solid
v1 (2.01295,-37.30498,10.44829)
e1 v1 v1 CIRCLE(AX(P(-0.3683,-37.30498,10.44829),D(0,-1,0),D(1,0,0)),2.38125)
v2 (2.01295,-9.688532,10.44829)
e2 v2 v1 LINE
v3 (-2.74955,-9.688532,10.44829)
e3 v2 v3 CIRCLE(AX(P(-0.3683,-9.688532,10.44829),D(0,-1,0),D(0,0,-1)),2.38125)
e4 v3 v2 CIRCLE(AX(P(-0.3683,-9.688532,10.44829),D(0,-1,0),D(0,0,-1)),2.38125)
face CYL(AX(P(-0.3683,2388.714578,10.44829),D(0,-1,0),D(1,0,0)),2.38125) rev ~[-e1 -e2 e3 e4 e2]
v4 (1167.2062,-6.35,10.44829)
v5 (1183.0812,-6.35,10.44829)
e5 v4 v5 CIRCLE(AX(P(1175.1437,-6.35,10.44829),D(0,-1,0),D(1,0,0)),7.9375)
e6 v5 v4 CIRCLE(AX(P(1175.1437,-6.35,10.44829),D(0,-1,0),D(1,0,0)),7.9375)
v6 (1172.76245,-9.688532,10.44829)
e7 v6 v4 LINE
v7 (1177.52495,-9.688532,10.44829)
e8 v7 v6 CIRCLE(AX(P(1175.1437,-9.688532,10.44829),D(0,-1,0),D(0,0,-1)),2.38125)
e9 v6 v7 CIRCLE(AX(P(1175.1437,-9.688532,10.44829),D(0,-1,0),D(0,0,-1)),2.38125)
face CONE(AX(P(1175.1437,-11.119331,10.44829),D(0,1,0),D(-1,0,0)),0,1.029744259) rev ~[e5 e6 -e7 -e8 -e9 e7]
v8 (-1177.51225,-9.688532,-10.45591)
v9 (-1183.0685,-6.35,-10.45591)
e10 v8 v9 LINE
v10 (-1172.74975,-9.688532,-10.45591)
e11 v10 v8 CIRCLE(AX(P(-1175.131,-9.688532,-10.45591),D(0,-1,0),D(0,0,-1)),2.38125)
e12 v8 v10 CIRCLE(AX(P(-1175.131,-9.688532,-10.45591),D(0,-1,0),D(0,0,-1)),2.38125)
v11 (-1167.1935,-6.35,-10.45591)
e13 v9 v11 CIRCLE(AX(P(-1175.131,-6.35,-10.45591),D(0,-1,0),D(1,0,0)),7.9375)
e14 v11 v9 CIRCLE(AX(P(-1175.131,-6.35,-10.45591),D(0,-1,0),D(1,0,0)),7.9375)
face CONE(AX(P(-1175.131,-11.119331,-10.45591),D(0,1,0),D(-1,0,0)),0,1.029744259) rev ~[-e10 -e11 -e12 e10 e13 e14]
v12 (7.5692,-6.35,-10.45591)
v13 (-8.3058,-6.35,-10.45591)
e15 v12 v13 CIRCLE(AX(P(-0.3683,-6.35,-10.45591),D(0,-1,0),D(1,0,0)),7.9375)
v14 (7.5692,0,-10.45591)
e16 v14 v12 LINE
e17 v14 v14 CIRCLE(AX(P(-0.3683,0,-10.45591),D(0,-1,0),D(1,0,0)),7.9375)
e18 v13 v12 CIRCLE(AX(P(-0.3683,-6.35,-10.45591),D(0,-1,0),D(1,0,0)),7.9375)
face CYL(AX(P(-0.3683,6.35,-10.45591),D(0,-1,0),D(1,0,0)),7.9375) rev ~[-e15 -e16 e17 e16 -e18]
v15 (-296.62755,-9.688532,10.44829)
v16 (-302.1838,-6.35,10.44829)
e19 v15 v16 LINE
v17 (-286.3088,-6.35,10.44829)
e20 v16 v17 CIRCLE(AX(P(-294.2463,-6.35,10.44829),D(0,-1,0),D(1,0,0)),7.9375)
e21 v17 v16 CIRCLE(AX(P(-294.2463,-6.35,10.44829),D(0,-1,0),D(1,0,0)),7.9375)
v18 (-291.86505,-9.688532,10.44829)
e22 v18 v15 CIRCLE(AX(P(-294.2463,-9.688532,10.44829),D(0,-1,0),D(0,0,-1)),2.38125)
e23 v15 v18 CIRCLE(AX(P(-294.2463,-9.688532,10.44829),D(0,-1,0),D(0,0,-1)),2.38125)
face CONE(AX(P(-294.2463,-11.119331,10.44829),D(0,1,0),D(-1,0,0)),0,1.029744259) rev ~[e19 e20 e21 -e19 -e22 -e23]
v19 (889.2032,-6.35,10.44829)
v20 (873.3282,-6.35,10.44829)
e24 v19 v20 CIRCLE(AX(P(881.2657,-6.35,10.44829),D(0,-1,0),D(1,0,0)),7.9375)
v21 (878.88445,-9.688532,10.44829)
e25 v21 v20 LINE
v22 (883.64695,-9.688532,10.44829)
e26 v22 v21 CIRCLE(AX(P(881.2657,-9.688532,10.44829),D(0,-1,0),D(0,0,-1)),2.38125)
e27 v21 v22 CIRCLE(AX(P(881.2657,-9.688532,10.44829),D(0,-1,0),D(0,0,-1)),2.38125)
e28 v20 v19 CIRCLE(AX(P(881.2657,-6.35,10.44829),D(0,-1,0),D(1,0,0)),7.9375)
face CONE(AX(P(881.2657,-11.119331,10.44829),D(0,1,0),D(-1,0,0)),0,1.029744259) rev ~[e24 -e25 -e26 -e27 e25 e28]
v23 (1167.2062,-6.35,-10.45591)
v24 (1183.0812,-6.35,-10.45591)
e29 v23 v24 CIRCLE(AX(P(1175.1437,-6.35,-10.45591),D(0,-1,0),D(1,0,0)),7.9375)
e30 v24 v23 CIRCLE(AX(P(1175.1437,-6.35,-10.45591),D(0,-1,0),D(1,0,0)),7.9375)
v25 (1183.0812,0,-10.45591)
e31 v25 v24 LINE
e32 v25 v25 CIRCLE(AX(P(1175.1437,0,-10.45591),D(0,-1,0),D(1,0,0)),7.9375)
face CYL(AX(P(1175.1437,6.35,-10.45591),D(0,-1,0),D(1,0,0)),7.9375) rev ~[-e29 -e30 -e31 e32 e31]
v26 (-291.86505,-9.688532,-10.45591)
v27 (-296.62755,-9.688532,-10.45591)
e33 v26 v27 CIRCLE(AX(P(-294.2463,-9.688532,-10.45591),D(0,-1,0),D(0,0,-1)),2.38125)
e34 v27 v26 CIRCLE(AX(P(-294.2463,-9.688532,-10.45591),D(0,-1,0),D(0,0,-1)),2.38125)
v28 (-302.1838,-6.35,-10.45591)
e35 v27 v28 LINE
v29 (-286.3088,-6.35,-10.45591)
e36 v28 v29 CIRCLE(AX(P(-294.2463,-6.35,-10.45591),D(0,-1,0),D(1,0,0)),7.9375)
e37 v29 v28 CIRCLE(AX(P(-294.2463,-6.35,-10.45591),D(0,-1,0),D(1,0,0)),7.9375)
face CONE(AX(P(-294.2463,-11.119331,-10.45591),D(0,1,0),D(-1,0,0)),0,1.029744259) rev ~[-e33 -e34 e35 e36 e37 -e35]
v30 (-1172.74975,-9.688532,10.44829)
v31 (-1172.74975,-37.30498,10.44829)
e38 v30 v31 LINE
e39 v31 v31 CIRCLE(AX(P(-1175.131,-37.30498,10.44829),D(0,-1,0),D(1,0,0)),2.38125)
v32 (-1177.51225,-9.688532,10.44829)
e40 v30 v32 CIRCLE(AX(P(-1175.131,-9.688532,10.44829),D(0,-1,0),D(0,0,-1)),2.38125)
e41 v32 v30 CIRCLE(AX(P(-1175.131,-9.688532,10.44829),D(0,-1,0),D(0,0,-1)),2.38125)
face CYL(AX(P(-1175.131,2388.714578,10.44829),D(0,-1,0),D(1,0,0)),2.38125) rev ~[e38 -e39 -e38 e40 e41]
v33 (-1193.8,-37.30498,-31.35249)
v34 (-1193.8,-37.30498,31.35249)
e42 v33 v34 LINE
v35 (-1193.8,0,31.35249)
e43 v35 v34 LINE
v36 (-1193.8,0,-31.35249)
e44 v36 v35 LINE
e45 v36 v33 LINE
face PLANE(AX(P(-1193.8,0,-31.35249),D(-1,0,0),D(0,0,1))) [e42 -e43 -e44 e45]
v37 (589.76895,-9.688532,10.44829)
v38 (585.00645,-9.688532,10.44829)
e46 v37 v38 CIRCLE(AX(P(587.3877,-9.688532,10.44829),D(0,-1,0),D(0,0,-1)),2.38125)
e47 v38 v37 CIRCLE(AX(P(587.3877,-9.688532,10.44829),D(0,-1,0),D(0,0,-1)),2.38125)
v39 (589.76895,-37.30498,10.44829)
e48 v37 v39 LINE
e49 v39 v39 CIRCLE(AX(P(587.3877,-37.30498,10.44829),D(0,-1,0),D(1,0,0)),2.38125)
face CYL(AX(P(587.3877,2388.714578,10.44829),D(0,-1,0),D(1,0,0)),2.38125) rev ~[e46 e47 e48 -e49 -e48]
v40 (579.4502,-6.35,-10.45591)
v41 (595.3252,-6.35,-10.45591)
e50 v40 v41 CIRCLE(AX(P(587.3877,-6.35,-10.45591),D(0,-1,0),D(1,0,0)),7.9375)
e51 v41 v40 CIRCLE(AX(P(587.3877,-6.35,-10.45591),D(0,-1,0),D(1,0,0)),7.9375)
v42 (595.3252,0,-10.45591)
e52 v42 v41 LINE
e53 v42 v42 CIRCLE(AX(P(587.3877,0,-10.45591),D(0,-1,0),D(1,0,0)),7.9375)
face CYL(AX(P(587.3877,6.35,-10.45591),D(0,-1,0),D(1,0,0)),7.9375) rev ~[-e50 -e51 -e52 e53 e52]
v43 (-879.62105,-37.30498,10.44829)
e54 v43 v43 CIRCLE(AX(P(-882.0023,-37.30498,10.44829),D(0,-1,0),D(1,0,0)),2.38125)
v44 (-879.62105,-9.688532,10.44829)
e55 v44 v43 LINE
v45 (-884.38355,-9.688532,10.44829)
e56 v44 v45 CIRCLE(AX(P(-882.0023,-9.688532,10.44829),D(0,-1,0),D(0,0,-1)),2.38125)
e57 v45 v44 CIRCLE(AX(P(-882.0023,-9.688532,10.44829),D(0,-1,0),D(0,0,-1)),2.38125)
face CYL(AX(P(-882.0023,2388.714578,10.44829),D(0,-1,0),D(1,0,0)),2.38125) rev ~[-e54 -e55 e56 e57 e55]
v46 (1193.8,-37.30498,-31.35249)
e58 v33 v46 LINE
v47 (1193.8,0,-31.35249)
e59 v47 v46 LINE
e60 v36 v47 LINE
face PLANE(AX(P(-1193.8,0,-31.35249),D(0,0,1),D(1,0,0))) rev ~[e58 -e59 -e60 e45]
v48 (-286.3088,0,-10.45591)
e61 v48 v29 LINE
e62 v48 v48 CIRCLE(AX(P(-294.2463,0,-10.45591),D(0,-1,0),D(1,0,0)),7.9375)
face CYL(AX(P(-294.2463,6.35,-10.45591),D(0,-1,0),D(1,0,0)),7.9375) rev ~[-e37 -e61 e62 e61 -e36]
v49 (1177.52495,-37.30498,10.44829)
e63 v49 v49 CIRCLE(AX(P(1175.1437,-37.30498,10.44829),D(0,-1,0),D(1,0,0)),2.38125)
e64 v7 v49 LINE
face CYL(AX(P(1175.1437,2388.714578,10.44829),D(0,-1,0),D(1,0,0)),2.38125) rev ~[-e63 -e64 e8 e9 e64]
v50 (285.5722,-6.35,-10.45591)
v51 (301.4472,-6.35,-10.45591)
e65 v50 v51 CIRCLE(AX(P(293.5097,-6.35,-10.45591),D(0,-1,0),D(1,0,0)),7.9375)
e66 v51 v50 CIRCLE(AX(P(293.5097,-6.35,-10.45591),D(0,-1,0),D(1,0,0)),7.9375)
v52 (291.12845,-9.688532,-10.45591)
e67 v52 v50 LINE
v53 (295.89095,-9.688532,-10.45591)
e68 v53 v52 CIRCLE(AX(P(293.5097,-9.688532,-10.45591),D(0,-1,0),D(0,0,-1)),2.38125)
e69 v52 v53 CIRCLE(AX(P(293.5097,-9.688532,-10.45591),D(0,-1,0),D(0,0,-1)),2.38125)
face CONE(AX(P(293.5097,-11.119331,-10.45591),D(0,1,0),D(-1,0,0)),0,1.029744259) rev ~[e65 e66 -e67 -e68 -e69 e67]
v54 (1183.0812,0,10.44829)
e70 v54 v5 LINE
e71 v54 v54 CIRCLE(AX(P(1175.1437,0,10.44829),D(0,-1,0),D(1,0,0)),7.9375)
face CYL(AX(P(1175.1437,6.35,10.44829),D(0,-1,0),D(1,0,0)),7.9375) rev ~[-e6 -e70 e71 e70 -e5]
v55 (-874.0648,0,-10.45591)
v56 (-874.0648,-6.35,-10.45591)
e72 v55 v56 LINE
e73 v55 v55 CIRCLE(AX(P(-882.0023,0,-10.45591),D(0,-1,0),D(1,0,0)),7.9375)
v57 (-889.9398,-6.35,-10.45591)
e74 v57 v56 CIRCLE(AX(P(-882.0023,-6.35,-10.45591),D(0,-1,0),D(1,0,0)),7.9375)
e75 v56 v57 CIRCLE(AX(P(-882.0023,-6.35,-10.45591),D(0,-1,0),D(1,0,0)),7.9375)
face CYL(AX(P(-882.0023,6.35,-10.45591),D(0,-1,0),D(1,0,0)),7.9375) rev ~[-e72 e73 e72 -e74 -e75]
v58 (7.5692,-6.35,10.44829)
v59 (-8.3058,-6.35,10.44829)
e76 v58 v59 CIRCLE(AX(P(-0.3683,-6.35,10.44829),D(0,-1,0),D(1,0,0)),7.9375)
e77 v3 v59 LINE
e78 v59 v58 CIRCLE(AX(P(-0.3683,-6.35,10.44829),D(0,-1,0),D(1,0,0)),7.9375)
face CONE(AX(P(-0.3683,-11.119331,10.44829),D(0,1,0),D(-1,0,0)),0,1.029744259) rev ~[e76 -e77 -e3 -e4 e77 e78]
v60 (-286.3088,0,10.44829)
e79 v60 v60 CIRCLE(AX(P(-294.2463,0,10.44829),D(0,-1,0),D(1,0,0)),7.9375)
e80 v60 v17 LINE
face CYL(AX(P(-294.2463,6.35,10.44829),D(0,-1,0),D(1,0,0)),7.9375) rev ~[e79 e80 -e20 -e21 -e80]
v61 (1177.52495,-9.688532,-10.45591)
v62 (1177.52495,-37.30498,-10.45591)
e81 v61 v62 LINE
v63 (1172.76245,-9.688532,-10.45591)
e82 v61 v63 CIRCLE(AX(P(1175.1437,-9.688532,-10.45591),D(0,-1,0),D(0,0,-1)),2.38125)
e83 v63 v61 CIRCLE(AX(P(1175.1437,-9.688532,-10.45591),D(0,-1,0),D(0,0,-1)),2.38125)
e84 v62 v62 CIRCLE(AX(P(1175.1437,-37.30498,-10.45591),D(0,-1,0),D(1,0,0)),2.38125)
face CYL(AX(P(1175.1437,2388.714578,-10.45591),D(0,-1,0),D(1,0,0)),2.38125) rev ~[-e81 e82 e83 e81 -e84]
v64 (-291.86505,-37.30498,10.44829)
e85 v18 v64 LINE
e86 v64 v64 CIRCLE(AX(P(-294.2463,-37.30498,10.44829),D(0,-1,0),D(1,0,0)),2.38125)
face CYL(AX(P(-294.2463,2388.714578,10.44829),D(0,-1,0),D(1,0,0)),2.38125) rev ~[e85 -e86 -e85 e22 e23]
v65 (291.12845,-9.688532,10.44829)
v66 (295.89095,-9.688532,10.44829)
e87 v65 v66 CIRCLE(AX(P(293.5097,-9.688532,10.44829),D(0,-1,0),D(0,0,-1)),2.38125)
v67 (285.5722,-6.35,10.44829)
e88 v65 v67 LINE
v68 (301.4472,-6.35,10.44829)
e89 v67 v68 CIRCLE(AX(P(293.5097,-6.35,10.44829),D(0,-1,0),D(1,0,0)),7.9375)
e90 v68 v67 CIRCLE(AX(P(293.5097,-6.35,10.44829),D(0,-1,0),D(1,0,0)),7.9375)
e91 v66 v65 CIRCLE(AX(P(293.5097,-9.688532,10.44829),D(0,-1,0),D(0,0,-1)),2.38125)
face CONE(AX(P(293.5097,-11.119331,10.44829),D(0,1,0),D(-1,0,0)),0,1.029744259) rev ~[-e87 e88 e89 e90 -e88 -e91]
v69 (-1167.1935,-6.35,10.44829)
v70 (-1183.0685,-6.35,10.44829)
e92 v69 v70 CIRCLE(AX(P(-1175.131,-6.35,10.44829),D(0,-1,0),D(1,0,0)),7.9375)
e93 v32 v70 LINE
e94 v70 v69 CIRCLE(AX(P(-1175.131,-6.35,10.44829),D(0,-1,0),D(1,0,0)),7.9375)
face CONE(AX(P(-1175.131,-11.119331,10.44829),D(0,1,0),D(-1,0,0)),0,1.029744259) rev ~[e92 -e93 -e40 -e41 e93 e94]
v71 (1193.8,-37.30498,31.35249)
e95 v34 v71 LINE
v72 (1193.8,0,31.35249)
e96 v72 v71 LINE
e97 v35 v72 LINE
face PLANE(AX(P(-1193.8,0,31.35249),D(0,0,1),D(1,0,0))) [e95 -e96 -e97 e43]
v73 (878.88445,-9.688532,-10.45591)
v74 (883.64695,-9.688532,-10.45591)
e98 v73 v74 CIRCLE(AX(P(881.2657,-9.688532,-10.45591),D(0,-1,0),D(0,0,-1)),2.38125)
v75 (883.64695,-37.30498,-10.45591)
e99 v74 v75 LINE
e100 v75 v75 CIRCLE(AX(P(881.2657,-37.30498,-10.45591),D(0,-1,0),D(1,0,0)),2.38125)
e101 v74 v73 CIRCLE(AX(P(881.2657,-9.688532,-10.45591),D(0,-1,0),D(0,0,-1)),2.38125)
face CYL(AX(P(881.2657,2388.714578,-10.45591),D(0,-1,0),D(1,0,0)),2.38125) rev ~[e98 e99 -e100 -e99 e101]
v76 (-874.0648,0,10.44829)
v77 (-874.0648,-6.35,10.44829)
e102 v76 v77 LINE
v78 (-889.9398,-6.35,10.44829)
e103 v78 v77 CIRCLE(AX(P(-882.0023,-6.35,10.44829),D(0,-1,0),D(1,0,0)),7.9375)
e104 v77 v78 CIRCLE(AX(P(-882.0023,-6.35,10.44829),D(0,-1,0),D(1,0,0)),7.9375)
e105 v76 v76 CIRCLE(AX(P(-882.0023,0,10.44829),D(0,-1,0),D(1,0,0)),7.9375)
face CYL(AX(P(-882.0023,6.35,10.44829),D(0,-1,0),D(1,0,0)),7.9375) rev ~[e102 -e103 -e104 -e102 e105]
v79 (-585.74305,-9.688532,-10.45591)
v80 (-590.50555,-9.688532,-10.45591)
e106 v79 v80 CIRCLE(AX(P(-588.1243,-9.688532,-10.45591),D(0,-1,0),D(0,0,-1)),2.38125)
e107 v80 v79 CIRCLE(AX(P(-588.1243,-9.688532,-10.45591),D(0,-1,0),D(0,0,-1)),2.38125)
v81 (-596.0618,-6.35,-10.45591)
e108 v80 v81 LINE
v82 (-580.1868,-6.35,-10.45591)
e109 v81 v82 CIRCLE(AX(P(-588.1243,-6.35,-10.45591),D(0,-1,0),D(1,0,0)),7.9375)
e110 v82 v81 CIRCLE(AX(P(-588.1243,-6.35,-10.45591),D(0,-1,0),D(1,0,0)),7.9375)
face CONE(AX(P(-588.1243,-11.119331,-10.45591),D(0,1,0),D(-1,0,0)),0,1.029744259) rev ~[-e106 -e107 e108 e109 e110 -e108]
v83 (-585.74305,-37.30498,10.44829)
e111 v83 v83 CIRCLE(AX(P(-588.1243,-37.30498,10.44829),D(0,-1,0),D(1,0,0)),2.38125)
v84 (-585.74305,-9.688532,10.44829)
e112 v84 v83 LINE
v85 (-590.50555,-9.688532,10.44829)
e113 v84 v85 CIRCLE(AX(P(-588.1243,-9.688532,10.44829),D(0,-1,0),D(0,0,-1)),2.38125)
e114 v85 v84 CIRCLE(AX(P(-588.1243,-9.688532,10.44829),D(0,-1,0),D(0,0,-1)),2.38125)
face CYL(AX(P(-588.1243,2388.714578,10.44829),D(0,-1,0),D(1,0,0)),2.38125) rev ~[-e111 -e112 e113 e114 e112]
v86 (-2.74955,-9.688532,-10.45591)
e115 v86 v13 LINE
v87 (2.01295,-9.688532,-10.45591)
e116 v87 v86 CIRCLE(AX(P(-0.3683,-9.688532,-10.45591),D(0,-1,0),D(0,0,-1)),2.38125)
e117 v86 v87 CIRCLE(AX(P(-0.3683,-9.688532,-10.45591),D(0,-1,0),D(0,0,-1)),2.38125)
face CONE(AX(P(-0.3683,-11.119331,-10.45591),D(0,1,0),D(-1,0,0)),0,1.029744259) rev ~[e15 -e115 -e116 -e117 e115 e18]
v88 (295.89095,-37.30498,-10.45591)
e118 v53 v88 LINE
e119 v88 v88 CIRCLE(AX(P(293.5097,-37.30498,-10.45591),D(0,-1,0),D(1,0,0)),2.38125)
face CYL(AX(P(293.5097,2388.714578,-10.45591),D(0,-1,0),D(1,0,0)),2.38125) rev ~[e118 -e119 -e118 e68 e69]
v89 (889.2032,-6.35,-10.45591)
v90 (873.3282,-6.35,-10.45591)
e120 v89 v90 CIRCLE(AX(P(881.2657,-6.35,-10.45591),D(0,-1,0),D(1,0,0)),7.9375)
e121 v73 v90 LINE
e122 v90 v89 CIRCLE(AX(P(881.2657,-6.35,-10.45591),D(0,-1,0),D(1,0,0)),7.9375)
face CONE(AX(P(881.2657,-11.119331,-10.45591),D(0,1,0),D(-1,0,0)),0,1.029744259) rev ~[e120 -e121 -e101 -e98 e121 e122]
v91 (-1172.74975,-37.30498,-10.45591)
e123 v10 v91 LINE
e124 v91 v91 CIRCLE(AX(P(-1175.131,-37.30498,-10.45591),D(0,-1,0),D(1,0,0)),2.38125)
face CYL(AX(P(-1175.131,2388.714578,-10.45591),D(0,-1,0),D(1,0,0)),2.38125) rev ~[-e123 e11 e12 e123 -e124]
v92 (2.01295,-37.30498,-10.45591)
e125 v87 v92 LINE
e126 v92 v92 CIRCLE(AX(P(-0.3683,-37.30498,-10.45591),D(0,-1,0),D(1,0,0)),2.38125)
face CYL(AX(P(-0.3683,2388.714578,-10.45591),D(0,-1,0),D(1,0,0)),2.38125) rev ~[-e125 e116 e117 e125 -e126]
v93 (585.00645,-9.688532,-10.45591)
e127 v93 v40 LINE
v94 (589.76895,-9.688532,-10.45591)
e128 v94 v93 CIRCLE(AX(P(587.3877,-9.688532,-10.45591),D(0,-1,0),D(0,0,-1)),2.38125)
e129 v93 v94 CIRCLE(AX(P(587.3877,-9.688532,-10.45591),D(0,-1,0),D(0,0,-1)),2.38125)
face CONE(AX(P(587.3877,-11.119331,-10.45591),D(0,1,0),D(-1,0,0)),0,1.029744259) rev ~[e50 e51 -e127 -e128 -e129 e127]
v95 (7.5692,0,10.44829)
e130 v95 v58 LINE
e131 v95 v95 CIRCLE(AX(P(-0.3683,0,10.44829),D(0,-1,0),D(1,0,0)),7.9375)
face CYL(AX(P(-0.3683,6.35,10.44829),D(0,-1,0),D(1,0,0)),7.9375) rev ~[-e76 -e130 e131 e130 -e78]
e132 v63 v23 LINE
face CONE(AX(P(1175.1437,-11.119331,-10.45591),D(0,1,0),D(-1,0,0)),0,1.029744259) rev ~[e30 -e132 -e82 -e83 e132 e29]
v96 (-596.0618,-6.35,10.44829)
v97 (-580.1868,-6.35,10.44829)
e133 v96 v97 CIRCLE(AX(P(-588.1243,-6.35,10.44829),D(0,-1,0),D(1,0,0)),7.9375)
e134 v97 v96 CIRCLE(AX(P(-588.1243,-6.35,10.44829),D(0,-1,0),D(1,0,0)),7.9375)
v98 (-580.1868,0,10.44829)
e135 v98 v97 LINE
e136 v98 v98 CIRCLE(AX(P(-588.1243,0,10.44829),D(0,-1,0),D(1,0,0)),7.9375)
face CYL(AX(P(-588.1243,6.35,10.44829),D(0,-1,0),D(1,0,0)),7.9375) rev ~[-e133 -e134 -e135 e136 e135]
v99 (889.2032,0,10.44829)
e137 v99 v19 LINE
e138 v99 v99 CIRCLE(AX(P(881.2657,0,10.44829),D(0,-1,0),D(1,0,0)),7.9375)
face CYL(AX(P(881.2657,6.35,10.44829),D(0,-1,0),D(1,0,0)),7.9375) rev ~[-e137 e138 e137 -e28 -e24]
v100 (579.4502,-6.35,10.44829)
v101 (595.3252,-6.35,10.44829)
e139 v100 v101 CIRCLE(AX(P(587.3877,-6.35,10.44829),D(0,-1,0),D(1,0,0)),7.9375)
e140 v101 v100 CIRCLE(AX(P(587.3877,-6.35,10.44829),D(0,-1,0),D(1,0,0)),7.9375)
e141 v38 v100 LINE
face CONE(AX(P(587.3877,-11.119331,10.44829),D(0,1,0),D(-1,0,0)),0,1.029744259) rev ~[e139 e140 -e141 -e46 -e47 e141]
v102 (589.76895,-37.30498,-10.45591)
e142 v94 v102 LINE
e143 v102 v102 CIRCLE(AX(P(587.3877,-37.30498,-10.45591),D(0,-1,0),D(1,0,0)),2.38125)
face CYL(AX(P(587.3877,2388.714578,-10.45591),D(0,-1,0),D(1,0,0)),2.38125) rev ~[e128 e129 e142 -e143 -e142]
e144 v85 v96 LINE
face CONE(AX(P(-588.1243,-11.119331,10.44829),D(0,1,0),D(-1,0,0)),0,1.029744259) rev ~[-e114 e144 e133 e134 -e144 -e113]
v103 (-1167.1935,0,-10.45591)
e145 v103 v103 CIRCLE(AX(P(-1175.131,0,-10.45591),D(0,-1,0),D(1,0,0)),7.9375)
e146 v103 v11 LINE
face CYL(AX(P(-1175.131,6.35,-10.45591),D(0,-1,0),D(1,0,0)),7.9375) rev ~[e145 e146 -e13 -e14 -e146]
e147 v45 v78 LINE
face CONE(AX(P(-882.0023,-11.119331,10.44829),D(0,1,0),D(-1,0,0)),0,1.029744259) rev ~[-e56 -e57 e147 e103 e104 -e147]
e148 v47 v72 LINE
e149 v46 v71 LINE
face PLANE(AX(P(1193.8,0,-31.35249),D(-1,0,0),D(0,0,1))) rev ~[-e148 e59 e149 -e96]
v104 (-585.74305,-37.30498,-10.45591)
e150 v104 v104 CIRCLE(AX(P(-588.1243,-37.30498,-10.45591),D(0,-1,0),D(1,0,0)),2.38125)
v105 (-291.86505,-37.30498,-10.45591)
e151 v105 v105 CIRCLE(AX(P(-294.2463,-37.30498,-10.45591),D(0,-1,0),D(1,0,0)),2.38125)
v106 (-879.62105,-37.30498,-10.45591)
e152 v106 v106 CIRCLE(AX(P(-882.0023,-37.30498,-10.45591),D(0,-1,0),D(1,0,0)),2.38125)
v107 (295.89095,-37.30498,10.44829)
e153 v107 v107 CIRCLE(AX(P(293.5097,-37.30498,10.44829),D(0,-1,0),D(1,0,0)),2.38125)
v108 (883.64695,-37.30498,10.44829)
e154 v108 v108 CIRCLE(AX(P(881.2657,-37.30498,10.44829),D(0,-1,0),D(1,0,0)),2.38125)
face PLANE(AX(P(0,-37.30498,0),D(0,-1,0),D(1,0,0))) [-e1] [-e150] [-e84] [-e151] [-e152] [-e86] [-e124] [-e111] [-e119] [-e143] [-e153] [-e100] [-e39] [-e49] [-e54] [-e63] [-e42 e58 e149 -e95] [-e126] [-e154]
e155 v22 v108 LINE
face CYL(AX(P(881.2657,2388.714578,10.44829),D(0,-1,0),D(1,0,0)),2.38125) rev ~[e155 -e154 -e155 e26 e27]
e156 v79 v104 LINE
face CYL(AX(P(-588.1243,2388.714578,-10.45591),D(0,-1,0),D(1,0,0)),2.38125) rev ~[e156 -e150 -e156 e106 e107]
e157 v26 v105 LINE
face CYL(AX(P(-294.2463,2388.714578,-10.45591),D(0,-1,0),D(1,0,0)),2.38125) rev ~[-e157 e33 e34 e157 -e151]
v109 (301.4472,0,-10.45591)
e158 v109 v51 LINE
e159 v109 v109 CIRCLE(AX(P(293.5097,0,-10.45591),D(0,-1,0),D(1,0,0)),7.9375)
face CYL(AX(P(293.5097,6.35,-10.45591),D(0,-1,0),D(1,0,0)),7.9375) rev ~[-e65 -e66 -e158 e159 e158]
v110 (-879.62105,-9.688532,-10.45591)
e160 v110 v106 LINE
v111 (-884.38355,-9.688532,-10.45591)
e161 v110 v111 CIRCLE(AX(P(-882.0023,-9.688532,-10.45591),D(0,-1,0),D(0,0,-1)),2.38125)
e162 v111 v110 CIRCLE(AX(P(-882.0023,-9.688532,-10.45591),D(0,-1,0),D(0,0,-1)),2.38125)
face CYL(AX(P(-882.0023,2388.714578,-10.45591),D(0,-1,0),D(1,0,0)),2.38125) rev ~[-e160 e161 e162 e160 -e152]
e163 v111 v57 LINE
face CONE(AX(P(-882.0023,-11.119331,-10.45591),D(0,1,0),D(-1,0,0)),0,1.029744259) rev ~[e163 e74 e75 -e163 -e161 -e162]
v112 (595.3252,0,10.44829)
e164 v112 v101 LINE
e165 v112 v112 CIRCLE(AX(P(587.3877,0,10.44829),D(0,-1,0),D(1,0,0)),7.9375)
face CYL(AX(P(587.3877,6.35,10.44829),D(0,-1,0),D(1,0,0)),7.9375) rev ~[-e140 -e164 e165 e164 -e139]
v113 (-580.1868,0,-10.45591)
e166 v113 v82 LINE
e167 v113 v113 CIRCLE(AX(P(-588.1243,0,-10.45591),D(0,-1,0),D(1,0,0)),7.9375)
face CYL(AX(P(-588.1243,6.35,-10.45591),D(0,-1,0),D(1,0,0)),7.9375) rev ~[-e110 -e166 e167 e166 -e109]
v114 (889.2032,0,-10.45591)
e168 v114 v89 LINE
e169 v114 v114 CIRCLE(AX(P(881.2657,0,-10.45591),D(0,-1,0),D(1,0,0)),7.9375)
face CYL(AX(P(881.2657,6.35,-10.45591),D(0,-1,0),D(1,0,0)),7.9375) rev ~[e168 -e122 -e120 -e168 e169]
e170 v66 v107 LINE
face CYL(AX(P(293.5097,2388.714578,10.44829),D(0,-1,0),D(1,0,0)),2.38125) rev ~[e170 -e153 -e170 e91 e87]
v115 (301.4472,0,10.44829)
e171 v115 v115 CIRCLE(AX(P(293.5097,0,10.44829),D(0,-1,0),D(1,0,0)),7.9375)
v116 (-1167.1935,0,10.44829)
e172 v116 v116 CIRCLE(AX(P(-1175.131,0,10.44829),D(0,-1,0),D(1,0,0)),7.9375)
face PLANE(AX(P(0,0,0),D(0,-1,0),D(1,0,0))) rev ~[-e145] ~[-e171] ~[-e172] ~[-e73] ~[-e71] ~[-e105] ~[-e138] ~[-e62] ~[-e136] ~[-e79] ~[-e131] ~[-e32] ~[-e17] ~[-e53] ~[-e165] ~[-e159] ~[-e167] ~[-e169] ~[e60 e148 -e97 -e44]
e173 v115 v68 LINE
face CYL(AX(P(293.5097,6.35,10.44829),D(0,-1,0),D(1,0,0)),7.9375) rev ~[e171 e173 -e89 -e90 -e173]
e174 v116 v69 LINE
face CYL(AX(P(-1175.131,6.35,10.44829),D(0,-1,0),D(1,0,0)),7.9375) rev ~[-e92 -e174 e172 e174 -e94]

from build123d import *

# Parameters (mm, degrees)
F0_W     = 2387.6
F0_H     = 62.70498
F1_DEPTH = 37.30498
F3_D     = 15.875
F3_DEPTH = 6.35
F3_TIP   = 4.7693311635
F4_D     = 4.7625


with BuildPart() as f1:
    # F0 (on Front) → F1 (new body)
    with BuildSketch(Plane.XZ):
        Rectangle(F0_W, F0_H)
    extrude(amount=F1_DEPTH)

    # F3
    with Locations(Plane(origin=(0, 0, 0), x_dir=(-1, 0, 0), z_dir=(0, 1, 0))):
        with Locations((-1175.1437, 10.44829), (-1175.1437, -10.45591), (-881.2657, 10.44829), (-881.2657, -10.45591), (-587.3877, 10.44829), (-587.3877, -10.45591), (-293.5097, 10.44829), (-293.5097, -10.45591), (0.3683, 10.44829), (0.3683, -10.45591), (294.2463, 10.44829), (294.2463, -10.45591), (588.1243, 10.44829), (588.1243, -10.45591), (882.0023, 10.44829), (882.0023, -10.45591), (1175.131, 10.44829), (1175.131, -10.45591)):
            Hole(F3_D / 2, depth=F3_DEPTH)
            with Locations((0, 0, -(F3_DEPTH + F3_TIP / 2))):  # 118° drill point
                Cone(0, F3_D / 2, F3_TIP, mode=Mode.SUBTRACT)

    # F4 (through all)
    with Locations(Plane(origin=(0, 0, 0), x_dir=(-1, 0, 0), z_dir=(0, 1, 0))):
        with Locations((-1175.1437, 10.44829), (-1175.1437, -10.45591), (-881.2657, 10.44829), (-881.2657, -10.45591), (-587.3877, 10.44829), (-587.3877, -10.45591), (-293.5097, 10.44829), (-293.5097, -10.45591), (0.3683, 10.44829), (0.3683, -10.45591), (294.2463, 10.44829), (294.2463, -10.45591), (588.1243, 10.44829), (588.1243, -10.45591), (882.0023, 10.44829), (882.0023, -10.45591), (1175.131, 10.44829), (1175.131, -10.45591)):
            Hole(F4_D / 2)


solid = f1.part
